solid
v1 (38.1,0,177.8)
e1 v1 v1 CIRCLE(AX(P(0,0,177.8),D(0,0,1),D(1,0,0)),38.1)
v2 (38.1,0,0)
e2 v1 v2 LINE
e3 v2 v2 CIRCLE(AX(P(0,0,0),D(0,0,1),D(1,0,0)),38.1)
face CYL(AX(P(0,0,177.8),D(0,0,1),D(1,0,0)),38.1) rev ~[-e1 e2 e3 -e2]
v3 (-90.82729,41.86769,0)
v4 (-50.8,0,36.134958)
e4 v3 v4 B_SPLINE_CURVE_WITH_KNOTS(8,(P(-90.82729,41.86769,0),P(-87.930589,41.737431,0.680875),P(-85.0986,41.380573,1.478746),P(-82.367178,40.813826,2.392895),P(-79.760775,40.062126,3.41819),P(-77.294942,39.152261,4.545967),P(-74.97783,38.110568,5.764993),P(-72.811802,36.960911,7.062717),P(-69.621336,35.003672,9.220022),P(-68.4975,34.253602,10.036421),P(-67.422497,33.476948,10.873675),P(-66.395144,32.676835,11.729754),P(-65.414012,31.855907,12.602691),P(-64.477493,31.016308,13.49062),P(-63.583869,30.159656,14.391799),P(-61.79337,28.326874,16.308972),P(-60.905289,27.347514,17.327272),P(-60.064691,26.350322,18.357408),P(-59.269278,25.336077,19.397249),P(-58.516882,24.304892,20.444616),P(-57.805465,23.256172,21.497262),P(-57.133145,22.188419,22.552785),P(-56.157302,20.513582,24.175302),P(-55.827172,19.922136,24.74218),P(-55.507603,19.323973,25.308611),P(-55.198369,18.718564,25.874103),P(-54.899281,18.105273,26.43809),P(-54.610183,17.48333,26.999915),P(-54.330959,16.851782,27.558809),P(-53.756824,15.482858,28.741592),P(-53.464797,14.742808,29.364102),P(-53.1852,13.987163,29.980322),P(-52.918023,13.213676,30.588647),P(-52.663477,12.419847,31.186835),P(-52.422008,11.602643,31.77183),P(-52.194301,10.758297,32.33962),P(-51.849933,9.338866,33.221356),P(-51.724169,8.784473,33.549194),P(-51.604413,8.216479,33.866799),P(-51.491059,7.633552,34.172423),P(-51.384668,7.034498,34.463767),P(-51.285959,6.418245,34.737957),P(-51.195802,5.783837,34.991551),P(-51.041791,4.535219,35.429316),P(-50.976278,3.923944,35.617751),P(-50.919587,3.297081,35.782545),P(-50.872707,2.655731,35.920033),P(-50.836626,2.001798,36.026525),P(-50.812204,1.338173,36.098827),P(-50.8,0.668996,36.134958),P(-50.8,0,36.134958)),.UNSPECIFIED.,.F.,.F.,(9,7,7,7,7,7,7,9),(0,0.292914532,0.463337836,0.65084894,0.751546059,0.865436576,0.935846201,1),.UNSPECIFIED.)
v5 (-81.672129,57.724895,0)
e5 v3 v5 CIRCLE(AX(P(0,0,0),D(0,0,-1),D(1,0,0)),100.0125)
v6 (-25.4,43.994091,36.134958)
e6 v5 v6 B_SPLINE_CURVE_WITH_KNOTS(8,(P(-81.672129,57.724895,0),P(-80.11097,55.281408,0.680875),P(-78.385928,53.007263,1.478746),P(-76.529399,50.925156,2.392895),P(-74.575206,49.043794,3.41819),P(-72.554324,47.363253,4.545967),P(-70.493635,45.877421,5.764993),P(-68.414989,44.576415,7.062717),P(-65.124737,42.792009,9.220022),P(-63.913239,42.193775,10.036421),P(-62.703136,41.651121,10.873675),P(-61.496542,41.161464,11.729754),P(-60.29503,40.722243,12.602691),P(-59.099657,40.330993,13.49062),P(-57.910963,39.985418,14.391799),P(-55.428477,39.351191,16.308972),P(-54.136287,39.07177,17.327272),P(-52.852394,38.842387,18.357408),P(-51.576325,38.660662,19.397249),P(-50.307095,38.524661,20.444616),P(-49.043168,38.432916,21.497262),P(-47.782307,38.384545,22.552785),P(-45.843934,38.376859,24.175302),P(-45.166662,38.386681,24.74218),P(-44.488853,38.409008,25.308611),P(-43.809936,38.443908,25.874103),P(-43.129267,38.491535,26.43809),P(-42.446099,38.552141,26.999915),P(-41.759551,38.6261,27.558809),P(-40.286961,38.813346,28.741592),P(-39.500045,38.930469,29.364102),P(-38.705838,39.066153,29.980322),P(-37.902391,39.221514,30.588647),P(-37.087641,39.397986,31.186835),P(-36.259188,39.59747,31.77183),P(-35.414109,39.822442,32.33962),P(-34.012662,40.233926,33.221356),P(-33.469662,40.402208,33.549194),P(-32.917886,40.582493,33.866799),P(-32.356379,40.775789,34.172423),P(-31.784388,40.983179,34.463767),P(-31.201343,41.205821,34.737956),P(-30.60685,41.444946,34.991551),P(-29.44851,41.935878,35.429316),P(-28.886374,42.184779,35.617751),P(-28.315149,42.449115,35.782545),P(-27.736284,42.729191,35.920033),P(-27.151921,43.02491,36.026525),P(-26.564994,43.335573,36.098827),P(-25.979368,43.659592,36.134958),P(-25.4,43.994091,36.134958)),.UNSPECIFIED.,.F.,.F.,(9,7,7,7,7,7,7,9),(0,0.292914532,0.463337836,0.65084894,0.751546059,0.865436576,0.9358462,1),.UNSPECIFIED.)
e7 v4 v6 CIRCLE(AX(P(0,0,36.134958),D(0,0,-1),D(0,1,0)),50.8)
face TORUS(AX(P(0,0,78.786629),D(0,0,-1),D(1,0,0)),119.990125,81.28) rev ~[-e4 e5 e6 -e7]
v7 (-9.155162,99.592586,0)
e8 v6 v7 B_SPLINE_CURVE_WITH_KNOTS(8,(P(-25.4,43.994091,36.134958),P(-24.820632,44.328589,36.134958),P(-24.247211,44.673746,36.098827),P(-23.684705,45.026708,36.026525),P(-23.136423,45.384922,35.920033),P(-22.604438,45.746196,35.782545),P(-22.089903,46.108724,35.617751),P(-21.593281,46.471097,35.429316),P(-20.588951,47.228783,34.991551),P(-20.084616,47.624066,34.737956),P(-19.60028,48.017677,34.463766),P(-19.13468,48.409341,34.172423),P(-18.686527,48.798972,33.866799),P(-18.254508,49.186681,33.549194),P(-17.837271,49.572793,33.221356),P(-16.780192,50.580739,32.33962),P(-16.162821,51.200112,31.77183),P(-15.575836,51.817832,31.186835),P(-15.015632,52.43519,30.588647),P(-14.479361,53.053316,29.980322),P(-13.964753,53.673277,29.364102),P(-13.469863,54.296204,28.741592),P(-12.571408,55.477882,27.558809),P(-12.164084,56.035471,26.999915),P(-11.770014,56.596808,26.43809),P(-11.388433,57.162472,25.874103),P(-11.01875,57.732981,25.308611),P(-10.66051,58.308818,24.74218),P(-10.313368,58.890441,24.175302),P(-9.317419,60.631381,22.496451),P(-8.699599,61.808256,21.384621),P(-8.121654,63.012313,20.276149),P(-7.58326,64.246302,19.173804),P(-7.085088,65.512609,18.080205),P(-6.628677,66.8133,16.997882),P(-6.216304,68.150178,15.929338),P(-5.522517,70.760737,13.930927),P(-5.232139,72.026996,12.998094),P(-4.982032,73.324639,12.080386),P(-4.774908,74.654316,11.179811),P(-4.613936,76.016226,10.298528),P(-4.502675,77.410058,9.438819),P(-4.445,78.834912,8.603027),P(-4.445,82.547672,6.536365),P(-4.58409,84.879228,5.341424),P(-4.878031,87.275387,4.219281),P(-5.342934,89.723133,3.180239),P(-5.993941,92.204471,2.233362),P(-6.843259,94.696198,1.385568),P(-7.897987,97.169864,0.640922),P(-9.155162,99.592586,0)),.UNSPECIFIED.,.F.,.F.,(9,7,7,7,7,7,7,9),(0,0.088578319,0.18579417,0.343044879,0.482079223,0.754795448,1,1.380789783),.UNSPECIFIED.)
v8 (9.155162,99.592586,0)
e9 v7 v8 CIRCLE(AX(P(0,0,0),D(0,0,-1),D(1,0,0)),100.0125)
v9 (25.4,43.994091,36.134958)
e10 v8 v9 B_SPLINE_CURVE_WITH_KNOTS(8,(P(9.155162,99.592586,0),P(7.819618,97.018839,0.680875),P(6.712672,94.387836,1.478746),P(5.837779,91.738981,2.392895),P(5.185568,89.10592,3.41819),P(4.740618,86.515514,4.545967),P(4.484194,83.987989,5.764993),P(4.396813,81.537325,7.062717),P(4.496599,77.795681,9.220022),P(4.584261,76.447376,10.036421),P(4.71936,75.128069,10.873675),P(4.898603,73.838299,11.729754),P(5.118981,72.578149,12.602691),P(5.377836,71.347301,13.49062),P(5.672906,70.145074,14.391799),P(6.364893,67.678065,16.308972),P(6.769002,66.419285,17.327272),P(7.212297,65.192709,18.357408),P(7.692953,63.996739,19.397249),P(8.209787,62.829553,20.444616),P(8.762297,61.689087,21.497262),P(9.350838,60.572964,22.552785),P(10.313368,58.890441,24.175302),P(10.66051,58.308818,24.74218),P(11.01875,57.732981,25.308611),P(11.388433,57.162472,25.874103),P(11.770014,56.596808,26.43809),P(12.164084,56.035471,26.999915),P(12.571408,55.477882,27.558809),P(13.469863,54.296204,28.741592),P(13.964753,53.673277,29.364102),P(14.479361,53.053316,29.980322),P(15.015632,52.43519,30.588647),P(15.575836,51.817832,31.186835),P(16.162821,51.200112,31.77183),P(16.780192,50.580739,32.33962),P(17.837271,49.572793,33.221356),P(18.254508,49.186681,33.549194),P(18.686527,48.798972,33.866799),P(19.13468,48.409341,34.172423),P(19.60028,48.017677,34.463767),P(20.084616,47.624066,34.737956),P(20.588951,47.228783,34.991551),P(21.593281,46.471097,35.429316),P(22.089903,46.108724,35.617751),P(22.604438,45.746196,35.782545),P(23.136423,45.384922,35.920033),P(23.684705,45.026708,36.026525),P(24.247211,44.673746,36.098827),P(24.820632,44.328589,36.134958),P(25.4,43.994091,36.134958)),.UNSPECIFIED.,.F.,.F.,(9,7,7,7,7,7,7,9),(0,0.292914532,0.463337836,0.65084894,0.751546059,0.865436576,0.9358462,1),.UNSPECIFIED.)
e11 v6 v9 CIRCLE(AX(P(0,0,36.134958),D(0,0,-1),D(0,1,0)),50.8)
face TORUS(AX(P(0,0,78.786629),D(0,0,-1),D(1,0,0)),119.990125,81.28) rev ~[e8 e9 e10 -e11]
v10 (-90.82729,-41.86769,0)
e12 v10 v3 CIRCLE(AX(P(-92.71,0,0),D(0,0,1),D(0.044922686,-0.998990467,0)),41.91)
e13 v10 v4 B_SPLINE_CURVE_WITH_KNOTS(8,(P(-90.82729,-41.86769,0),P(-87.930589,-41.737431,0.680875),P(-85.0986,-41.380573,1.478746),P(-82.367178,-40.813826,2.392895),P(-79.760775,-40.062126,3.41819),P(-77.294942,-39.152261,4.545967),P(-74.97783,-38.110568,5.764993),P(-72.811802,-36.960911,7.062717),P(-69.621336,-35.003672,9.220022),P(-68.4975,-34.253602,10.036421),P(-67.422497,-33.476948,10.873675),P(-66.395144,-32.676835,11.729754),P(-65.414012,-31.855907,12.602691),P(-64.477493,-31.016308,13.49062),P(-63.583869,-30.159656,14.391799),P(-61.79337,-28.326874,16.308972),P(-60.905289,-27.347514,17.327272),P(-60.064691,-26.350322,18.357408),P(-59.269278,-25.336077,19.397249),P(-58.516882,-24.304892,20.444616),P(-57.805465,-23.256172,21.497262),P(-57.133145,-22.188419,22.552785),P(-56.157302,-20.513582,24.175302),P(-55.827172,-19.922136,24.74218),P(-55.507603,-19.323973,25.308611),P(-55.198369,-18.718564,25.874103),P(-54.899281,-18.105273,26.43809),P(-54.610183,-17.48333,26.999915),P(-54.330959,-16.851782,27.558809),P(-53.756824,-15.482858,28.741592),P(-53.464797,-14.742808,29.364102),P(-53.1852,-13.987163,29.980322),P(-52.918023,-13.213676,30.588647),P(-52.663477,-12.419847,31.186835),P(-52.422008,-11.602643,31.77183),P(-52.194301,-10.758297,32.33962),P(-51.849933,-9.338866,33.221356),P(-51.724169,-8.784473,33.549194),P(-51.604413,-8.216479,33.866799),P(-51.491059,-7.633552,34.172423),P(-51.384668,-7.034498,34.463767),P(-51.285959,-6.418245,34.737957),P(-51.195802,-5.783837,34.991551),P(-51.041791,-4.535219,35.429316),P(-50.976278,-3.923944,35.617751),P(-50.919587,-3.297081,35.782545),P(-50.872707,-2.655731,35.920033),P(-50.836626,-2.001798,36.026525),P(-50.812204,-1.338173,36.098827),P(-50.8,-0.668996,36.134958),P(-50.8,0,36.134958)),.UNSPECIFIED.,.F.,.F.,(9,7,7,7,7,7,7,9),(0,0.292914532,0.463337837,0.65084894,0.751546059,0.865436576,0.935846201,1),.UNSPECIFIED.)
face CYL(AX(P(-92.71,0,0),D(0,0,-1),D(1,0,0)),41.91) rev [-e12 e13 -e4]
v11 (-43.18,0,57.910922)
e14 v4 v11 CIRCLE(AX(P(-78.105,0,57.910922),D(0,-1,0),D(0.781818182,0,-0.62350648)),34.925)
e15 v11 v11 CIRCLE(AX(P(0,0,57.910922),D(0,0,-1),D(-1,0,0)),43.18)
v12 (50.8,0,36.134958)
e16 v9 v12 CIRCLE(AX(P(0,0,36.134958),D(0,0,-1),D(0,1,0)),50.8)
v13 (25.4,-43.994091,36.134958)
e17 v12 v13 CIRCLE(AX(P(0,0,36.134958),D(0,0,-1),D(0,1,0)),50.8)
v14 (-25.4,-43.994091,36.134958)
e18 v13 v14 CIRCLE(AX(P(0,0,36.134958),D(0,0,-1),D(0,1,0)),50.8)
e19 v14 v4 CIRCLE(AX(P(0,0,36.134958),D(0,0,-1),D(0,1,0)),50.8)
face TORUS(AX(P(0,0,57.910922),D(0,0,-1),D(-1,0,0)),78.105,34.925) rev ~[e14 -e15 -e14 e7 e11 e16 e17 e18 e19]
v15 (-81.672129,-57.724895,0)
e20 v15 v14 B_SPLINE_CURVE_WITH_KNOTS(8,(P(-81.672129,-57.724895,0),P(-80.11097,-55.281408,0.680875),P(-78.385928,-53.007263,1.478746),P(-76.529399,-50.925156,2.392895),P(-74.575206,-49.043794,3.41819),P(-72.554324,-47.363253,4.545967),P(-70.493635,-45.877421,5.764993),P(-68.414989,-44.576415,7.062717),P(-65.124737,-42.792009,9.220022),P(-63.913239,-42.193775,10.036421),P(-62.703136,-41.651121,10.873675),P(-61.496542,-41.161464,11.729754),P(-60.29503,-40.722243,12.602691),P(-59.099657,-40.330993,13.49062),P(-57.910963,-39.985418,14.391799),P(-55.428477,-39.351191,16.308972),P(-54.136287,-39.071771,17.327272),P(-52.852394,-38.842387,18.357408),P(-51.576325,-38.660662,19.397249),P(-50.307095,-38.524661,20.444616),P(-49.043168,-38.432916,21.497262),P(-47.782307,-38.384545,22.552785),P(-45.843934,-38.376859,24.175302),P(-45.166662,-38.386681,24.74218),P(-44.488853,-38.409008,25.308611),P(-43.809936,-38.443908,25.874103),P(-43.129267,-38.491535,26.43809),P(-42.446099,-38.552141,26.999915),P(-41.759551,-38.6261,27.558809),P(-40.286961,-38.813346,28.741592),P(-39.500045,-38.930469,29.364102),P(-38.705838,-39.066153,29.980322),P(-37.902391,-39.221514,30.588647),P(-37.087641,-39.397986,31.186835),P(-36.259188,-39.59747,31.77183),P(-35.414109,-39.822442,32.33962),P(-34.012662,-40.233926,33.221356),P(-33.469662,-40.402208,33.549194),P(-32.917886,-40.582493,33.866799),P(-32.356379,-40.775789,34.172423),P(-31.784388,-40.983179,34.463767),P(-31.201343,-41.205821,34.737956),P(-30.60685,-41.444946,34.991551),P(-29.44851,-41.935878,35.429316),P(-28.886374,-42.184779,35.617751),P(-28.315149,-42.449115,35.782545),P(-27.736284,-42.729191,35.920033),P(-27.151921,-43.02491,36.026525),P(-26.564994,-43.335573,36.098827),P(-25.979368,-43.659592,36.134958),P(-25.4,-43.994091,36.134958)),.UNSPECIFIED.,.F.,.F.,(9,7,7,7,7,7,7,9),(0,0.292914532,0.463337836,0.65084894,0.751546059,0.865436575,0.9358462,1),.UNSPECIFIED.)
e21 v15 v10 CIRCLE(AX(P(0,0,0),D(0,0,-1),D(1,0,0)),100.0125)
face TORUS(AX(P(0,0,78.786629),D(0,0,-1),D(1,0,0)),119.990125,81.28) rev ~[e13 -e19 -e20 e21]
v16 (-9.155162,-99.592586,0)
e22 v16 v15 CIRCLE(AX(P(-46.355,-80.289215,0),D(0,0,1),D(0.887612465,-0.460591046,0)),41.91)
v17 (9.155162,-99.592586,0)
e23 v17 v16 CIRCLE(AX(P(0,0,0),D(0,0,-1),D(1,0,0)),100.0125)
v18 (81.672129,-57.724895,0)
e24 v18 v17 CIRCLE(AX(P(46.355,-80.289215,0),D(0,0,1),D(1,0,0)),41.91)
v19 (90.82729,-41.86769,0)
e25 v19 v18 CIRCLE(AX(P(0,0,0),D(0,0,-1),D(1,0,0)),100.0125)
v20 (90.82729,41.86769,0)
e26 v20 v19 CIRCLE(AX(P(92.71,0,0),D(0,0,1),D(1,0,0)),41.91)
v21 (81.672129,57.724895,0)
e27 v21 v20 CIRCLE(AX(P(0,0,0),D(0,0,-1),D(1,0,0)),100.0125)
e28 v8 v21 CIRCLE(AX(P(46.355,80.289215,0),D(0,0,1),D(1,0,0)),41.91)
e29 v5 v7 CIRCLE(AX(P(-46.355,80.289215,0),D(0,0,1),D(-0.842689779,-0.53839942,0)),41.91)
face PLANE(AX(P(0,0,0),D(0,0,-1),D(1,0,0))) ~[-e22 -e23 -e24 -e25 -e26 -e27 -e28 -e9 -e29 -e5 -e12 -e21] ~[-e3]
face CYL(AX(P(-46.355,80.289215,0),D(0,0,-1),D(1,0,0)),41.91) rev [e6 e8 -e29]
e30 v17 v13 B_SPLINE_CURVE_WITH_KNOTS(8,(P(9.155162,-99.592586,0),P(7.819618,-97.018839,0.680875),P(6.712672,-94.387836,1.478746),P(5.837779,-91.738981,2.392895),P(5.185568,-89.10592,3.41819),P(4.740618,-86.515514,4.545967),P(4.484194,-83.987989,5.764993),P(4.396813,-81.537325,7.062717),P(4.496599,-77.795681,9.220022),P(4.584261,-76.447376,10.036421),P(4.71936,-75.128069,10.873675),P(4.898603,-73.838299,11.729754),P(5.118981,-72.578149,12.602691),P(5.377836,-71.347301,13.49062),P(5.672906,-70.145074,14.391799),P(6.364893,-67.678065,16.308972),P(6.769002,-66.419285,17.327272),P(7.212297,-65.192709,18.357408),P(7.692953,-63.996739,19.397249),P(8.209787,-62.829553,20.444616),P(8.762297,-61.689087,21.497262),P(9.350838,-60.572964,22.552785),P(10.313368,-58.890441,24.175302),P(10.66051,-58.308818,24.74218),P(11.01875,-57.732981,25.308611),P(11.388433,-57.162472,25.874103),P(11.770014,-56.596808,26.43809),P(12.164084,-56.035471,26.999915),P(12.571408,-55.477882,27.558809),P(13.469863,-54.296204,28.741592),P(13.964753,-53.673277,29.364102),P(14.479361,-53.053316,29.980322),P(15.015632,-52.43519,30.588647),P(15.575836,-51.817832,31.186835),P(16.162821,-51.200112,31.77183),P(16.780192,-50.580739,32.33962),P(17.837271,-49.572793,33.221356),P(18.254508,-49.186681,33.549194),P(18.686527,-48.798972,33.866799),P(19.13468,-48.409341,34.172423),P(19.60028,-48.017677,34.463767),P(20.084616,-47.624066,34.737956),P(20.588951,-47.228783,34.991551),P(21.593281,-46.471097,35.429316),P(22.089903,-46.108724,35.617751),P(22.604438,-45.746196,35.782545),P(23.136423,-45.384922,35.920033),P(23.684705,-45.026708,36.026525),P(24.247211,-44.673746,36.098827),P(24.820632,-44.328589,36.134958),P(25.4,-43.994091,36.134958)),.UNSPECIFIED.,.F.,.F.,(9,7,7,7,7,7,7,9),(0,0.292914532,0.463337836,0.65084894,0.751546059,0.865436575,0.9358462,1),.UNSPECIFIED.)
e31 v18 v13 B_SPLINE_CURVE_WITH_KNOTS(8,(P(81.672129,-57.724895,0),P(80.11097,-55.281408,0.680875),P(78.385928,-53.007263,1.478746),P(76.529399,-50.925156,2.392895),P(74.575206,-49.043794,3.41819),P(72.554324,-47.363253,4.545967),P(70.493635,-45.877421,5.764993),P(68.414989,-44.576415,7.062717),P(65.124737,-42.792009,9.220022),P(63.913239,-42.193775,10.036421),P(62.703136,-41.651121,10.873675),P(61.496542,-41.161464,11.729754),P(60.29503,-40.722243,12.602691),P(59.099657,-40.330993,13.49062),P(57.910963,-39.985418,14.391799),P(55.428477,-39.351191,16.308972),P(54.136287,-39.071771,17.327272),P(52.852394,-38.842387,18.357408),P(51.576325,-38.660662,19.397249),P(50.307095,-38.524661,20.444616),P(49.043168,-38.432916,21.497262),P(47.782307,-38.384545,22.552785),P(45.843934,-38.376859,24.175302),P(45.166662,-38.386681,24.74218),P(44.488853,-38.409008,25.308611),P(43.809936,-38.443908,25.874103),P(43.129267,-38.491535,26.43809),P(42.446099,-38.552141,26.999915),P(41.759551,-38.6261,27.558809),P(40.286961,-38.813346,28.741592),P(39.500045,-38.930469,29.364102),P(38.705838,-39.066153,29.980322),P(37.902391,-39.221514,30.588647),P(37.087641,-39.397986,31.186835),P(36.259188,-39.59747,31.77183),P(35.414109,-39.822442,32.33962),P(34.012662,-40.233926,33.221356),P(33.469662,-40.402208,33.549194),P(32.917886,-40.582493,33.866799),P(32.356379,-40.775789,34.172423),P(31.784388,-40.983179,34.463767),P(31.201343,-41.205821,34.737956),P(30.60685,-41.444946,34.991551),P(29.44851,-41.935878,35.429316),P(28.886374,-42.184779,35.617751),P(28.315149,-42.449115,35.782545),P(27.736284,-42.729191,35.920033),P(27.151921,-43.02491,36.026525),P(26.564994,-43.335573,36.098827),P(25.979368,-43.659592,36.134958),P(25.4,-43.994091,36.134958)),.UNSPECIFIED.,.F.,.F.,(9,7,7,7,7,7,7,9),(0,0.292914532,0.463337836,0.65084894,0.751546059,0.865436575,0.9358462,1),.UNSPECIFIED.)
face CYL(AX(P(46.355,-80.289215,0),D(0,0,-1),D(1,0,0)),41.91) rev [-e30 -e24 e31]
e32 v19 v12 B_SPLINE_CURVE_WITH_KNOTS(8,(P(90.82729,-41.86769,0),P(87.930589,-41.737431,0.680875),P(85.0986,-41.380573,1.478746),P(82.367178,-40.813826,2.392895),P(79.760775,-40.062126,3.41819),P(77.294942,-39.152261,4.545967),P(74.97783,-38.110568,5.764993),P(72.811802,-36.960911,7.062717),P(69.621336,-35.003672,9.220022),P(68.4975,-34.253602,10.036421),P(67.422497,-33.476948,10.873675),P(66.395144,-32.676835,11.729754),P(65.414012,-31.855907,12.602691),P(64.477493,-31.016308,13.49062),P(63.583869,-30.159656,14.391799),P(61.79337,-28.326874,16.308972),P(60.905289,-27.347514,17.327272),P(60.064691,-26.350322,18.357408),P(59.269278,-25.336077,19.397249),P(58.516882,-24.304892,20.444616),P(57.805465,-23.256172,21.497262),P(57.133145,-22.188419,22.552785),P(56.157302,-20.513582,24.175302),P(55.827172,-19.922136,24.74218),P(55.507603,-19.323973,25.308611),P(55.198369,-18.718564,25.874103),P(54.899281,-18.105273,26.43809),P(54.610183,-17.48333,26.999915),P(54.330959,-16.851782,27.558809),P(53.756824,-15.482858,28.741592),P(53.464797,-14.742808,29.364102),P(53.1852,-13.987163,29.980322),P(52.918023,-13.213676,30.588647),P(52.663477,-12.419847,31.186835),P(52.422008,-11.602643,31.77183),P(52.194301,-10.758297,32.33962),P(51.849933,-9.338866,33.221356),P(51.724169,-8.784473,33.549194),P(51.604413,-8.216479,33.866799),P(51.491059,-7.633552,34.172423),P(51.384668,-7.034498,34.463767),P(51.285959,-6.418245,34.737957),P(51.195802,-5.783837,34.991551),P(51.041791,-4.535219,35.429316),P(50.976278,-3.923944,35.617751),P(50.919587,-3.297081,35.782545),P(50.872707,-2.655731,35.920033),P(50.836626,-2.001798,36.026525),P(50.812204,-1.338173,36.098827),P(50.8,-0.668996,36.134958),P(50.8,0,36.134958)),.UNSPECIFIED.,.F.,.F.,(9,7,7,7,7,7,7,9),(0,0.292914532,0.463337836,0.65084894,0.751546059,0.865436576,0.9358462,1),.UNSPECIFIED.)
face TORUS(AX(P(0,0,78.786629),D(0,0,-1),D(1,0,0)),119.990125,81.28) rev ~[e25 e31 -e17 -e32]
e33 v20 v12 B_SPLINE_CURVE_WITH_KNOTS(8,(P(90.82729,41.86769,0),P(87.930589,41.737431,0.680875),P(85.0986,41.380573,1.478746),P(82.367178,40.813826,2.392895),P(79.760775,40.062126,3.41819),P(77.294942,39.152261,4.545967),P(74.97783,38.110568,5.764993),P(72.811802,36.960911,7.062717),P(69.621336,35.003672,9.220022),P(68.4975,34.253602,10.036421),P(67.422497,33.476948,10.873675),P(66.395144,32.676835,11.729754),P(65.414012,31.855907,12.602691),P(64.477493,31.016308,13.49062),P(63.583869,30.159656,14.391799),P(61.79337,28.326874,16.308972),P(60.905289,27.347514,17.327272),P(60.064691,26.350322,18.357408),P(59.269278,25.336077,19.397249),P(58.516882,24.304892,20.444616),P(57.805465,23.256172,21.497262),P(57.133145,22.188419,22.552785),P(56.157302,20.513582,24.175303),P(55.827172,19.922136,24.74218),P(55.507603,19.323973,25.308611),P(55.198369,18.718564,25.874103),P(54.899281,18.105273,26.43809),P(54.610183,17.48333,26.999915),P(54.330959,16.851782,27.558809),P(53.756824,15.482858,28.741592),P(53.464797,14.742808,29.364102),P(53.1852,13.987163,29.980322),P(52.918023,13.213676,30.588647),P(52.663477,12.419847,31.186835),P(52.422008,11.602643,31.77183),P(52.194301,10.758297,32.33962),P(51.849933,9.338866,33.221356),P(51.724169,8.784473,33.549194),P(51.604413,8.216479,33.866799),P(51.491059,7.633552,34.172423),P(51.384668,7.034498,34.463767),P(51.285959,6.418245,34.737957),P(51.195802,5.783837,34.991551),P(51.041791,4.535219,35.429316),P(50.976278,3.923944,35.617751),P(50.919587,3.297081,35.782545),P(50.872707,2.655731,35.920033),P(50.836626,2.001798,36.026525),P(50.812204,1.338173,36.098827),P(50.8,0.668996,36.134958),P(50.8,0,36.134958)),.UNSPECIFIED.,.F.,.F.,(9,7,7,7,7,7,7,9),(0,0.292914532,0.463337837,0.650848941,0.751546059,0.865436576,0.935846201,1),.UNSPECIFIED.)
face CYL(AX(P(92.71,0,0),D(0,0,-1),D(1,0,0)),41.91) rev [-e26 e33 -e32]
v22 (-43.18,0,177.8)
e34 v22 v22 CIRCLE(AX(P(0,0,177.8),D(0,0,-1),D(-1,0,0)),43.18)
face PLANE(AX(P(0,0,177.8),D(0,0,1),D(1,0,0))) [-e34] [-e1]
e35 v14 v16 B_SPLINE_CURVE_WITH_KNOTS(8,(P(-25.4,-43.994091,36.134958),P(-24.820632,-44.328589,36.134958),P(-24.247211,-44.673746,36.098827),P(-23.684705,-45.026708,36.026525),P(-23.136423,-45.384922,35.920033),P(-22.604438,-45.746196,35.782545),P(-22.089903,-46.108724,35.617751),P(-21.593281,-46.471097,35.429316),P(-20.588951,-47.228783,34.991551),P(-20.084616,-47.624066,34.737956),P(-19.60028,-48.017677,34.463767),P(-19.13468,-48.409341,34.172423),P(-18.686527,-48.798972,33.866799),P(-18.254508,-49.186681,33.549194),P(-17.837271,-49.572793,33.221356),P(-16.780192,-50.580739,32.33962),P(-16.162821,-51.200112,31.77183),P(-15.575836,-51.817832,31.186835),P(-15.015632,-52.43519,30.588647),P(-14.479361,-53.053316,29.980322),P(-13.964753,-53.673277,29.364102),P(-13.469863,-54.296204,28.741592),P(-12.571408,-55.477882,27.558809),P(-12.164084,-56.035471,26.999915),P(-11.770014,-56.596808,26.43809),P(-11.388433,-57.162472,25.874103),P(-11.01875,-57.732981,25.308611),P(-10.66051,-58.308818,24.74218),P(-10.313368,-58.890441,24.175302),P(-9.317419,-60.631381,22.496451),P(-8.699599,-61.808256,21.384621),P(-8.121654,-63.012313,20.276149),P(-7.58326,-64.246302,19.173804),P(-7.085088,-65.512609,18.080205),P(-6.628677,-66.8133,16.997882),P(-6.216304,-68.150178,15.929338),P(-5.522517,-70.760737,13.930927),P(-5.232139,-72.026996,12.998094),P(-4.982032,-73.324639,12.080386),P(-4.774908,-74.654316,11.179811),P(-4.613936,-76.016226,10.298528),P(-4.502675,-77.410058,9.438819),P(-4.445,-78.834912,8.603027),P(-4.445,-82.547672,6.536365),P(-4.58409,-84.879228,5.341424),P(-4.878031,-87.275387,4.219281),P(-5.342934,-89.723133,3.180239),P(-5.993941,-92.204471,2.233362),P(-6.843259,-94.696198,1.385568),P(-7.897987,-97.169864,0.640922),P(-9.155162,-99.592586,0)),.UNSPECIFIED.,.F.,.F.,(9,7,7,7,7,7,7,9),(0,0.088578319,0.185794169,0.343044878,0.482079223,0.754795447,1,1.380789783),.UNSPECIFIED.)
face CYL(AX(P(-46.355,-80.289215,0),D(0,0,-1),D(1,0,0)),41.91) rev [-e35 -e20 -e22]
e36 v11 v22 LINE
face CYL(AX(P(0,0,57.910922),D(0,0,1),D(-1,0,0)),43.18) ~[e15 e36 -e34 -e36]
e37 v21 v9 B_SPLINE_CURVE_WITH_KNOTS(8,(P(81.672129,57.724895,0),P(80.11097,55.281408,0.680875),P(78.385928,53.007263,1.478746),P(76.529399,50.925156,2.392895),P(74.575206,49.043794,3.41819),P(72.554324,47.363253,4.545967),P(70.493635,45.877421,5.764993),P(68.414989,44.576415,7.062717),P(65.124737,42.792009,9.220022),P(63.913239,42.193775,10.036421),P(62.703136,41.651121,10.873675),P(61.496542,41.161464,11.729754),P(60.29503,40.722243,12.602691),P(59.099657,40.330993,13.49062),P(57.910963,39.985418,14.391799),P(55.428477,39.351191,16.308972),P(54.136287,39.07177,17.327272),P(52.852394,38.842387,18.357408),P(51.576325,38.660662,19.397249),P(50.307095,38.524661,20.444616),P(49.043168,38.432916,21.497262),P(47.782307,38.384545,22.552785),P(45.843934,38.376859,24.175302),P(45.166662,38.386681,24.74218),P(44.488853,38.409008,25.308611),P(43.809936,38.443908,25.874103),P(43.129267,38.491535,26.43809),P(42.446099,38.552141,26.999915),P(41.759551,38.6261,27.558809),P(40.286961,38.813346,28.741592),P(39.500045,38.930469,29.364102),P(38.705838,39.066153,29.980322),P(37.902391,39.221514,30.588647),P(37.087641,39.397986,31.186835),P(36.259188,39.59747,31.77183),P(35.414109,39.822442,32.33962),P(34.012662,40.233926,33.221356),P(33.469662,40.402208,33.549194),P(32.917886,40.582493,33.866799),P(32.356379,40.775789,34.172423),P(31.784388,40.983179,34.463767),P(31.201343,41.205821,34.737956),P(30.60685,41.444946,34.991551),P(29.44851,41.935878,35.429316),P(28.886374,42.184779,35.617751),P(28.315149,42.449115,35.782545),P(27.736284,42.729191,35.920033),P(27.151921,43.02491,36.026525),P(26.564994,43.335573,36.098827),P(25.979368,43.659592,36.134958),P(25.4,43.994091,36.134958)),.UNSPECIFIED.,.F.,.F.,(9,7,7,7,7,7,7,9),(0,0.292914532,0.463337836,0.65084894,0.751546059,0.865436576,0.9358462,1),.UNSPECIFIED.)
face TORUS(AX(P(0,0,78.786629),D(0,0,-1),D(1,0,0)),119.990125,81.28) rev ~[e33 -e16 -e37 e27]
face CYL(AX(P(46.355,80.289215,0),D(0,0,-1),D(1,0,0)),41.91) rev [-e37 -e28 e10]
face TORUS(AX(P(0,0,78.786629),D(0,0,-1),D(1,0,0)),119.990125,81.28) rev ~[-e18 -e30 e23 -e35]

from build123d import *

# Parameters (mm, degrees)
F0_R     = 50.8
F2_DEPTH = 177.8
F3_R     = 38.1
F4_DEPTH = 177.801
F1_R     = 41.91
F7_DEPTH = 177.801


with BuildPart() as f2:
    # F0 (on Top) → F2 (new body)
    with BuildSketch(Plane.XY):
        Circle(F0_R)
    extrude(amount=F2_DEPTH)

    # F3 (on face) → F4 (cut, through all)
    with BuildSketch(Plane.XY.offset(177.8)):
        Circle(F3_R)
    extrude(amount=-F4_DEPTH, mode=Mode.SUBTRACT)

    # F5 (on Front) → F6 (revolve)
    with BuildSketch(Plane.XZ):
        with BuildLine():
            ThreePointArc((100.0125, 0), (70.9357679727, 13.9783849732), (49.5876034492, 38.167379647))
            Line((49.5876034492, 38.167379647), (49.5876034492, 0))
            Line((49.5876034492, 0), (100.0125, 0))
        make_face()
    revolve(axis=Axis((0, 0, 0), (0, 0, -1)))

    # F1 (on Top) → F7 (cut, through all)
    with BuildSketch(Plane.XY):
        with Locations((-92.71, 0)):
            Circle(F1_R)
        with Locations((-46.355, -80.2892151849)):
            Circle(F1_R)
        with Locations((46.355, -80.2892151849)):
            Circle(F1_R)
        with Locations((92.71, 0)):
            Circle(F1_R)
        with Locations((46.355, 80.2892151849)):
            Circle(F1_R)
        with Locations((-46.355, 80.2892151849)):
            Circle(F1_R)
    extrude(amount=F7_DEPTH, mode=Mode.SUBTRACT)

    # F8 (on Front) → F9 (revolve, cut)
    with BuildSketch(Plane.XZ):
        with BuildLine():
            Line((-50.8, 177.8), (-50.8, 36.134957756))
            ThreePointArc((-50.8, 36.134957756), (-45.1399977249, 46.3755737202), (-43.18, 57.9109215693))
            Line((-43.18, 57.9109215693), (-43.18, 177.8))
            Line((-43.18, 177.8), (-50.8, 177.8))
        make_face()
    revolve(axis=Axis((0, 0, 177.8), (0, 0, -1)), mode=Mode.SUBTRACT)


solid = f2.part
